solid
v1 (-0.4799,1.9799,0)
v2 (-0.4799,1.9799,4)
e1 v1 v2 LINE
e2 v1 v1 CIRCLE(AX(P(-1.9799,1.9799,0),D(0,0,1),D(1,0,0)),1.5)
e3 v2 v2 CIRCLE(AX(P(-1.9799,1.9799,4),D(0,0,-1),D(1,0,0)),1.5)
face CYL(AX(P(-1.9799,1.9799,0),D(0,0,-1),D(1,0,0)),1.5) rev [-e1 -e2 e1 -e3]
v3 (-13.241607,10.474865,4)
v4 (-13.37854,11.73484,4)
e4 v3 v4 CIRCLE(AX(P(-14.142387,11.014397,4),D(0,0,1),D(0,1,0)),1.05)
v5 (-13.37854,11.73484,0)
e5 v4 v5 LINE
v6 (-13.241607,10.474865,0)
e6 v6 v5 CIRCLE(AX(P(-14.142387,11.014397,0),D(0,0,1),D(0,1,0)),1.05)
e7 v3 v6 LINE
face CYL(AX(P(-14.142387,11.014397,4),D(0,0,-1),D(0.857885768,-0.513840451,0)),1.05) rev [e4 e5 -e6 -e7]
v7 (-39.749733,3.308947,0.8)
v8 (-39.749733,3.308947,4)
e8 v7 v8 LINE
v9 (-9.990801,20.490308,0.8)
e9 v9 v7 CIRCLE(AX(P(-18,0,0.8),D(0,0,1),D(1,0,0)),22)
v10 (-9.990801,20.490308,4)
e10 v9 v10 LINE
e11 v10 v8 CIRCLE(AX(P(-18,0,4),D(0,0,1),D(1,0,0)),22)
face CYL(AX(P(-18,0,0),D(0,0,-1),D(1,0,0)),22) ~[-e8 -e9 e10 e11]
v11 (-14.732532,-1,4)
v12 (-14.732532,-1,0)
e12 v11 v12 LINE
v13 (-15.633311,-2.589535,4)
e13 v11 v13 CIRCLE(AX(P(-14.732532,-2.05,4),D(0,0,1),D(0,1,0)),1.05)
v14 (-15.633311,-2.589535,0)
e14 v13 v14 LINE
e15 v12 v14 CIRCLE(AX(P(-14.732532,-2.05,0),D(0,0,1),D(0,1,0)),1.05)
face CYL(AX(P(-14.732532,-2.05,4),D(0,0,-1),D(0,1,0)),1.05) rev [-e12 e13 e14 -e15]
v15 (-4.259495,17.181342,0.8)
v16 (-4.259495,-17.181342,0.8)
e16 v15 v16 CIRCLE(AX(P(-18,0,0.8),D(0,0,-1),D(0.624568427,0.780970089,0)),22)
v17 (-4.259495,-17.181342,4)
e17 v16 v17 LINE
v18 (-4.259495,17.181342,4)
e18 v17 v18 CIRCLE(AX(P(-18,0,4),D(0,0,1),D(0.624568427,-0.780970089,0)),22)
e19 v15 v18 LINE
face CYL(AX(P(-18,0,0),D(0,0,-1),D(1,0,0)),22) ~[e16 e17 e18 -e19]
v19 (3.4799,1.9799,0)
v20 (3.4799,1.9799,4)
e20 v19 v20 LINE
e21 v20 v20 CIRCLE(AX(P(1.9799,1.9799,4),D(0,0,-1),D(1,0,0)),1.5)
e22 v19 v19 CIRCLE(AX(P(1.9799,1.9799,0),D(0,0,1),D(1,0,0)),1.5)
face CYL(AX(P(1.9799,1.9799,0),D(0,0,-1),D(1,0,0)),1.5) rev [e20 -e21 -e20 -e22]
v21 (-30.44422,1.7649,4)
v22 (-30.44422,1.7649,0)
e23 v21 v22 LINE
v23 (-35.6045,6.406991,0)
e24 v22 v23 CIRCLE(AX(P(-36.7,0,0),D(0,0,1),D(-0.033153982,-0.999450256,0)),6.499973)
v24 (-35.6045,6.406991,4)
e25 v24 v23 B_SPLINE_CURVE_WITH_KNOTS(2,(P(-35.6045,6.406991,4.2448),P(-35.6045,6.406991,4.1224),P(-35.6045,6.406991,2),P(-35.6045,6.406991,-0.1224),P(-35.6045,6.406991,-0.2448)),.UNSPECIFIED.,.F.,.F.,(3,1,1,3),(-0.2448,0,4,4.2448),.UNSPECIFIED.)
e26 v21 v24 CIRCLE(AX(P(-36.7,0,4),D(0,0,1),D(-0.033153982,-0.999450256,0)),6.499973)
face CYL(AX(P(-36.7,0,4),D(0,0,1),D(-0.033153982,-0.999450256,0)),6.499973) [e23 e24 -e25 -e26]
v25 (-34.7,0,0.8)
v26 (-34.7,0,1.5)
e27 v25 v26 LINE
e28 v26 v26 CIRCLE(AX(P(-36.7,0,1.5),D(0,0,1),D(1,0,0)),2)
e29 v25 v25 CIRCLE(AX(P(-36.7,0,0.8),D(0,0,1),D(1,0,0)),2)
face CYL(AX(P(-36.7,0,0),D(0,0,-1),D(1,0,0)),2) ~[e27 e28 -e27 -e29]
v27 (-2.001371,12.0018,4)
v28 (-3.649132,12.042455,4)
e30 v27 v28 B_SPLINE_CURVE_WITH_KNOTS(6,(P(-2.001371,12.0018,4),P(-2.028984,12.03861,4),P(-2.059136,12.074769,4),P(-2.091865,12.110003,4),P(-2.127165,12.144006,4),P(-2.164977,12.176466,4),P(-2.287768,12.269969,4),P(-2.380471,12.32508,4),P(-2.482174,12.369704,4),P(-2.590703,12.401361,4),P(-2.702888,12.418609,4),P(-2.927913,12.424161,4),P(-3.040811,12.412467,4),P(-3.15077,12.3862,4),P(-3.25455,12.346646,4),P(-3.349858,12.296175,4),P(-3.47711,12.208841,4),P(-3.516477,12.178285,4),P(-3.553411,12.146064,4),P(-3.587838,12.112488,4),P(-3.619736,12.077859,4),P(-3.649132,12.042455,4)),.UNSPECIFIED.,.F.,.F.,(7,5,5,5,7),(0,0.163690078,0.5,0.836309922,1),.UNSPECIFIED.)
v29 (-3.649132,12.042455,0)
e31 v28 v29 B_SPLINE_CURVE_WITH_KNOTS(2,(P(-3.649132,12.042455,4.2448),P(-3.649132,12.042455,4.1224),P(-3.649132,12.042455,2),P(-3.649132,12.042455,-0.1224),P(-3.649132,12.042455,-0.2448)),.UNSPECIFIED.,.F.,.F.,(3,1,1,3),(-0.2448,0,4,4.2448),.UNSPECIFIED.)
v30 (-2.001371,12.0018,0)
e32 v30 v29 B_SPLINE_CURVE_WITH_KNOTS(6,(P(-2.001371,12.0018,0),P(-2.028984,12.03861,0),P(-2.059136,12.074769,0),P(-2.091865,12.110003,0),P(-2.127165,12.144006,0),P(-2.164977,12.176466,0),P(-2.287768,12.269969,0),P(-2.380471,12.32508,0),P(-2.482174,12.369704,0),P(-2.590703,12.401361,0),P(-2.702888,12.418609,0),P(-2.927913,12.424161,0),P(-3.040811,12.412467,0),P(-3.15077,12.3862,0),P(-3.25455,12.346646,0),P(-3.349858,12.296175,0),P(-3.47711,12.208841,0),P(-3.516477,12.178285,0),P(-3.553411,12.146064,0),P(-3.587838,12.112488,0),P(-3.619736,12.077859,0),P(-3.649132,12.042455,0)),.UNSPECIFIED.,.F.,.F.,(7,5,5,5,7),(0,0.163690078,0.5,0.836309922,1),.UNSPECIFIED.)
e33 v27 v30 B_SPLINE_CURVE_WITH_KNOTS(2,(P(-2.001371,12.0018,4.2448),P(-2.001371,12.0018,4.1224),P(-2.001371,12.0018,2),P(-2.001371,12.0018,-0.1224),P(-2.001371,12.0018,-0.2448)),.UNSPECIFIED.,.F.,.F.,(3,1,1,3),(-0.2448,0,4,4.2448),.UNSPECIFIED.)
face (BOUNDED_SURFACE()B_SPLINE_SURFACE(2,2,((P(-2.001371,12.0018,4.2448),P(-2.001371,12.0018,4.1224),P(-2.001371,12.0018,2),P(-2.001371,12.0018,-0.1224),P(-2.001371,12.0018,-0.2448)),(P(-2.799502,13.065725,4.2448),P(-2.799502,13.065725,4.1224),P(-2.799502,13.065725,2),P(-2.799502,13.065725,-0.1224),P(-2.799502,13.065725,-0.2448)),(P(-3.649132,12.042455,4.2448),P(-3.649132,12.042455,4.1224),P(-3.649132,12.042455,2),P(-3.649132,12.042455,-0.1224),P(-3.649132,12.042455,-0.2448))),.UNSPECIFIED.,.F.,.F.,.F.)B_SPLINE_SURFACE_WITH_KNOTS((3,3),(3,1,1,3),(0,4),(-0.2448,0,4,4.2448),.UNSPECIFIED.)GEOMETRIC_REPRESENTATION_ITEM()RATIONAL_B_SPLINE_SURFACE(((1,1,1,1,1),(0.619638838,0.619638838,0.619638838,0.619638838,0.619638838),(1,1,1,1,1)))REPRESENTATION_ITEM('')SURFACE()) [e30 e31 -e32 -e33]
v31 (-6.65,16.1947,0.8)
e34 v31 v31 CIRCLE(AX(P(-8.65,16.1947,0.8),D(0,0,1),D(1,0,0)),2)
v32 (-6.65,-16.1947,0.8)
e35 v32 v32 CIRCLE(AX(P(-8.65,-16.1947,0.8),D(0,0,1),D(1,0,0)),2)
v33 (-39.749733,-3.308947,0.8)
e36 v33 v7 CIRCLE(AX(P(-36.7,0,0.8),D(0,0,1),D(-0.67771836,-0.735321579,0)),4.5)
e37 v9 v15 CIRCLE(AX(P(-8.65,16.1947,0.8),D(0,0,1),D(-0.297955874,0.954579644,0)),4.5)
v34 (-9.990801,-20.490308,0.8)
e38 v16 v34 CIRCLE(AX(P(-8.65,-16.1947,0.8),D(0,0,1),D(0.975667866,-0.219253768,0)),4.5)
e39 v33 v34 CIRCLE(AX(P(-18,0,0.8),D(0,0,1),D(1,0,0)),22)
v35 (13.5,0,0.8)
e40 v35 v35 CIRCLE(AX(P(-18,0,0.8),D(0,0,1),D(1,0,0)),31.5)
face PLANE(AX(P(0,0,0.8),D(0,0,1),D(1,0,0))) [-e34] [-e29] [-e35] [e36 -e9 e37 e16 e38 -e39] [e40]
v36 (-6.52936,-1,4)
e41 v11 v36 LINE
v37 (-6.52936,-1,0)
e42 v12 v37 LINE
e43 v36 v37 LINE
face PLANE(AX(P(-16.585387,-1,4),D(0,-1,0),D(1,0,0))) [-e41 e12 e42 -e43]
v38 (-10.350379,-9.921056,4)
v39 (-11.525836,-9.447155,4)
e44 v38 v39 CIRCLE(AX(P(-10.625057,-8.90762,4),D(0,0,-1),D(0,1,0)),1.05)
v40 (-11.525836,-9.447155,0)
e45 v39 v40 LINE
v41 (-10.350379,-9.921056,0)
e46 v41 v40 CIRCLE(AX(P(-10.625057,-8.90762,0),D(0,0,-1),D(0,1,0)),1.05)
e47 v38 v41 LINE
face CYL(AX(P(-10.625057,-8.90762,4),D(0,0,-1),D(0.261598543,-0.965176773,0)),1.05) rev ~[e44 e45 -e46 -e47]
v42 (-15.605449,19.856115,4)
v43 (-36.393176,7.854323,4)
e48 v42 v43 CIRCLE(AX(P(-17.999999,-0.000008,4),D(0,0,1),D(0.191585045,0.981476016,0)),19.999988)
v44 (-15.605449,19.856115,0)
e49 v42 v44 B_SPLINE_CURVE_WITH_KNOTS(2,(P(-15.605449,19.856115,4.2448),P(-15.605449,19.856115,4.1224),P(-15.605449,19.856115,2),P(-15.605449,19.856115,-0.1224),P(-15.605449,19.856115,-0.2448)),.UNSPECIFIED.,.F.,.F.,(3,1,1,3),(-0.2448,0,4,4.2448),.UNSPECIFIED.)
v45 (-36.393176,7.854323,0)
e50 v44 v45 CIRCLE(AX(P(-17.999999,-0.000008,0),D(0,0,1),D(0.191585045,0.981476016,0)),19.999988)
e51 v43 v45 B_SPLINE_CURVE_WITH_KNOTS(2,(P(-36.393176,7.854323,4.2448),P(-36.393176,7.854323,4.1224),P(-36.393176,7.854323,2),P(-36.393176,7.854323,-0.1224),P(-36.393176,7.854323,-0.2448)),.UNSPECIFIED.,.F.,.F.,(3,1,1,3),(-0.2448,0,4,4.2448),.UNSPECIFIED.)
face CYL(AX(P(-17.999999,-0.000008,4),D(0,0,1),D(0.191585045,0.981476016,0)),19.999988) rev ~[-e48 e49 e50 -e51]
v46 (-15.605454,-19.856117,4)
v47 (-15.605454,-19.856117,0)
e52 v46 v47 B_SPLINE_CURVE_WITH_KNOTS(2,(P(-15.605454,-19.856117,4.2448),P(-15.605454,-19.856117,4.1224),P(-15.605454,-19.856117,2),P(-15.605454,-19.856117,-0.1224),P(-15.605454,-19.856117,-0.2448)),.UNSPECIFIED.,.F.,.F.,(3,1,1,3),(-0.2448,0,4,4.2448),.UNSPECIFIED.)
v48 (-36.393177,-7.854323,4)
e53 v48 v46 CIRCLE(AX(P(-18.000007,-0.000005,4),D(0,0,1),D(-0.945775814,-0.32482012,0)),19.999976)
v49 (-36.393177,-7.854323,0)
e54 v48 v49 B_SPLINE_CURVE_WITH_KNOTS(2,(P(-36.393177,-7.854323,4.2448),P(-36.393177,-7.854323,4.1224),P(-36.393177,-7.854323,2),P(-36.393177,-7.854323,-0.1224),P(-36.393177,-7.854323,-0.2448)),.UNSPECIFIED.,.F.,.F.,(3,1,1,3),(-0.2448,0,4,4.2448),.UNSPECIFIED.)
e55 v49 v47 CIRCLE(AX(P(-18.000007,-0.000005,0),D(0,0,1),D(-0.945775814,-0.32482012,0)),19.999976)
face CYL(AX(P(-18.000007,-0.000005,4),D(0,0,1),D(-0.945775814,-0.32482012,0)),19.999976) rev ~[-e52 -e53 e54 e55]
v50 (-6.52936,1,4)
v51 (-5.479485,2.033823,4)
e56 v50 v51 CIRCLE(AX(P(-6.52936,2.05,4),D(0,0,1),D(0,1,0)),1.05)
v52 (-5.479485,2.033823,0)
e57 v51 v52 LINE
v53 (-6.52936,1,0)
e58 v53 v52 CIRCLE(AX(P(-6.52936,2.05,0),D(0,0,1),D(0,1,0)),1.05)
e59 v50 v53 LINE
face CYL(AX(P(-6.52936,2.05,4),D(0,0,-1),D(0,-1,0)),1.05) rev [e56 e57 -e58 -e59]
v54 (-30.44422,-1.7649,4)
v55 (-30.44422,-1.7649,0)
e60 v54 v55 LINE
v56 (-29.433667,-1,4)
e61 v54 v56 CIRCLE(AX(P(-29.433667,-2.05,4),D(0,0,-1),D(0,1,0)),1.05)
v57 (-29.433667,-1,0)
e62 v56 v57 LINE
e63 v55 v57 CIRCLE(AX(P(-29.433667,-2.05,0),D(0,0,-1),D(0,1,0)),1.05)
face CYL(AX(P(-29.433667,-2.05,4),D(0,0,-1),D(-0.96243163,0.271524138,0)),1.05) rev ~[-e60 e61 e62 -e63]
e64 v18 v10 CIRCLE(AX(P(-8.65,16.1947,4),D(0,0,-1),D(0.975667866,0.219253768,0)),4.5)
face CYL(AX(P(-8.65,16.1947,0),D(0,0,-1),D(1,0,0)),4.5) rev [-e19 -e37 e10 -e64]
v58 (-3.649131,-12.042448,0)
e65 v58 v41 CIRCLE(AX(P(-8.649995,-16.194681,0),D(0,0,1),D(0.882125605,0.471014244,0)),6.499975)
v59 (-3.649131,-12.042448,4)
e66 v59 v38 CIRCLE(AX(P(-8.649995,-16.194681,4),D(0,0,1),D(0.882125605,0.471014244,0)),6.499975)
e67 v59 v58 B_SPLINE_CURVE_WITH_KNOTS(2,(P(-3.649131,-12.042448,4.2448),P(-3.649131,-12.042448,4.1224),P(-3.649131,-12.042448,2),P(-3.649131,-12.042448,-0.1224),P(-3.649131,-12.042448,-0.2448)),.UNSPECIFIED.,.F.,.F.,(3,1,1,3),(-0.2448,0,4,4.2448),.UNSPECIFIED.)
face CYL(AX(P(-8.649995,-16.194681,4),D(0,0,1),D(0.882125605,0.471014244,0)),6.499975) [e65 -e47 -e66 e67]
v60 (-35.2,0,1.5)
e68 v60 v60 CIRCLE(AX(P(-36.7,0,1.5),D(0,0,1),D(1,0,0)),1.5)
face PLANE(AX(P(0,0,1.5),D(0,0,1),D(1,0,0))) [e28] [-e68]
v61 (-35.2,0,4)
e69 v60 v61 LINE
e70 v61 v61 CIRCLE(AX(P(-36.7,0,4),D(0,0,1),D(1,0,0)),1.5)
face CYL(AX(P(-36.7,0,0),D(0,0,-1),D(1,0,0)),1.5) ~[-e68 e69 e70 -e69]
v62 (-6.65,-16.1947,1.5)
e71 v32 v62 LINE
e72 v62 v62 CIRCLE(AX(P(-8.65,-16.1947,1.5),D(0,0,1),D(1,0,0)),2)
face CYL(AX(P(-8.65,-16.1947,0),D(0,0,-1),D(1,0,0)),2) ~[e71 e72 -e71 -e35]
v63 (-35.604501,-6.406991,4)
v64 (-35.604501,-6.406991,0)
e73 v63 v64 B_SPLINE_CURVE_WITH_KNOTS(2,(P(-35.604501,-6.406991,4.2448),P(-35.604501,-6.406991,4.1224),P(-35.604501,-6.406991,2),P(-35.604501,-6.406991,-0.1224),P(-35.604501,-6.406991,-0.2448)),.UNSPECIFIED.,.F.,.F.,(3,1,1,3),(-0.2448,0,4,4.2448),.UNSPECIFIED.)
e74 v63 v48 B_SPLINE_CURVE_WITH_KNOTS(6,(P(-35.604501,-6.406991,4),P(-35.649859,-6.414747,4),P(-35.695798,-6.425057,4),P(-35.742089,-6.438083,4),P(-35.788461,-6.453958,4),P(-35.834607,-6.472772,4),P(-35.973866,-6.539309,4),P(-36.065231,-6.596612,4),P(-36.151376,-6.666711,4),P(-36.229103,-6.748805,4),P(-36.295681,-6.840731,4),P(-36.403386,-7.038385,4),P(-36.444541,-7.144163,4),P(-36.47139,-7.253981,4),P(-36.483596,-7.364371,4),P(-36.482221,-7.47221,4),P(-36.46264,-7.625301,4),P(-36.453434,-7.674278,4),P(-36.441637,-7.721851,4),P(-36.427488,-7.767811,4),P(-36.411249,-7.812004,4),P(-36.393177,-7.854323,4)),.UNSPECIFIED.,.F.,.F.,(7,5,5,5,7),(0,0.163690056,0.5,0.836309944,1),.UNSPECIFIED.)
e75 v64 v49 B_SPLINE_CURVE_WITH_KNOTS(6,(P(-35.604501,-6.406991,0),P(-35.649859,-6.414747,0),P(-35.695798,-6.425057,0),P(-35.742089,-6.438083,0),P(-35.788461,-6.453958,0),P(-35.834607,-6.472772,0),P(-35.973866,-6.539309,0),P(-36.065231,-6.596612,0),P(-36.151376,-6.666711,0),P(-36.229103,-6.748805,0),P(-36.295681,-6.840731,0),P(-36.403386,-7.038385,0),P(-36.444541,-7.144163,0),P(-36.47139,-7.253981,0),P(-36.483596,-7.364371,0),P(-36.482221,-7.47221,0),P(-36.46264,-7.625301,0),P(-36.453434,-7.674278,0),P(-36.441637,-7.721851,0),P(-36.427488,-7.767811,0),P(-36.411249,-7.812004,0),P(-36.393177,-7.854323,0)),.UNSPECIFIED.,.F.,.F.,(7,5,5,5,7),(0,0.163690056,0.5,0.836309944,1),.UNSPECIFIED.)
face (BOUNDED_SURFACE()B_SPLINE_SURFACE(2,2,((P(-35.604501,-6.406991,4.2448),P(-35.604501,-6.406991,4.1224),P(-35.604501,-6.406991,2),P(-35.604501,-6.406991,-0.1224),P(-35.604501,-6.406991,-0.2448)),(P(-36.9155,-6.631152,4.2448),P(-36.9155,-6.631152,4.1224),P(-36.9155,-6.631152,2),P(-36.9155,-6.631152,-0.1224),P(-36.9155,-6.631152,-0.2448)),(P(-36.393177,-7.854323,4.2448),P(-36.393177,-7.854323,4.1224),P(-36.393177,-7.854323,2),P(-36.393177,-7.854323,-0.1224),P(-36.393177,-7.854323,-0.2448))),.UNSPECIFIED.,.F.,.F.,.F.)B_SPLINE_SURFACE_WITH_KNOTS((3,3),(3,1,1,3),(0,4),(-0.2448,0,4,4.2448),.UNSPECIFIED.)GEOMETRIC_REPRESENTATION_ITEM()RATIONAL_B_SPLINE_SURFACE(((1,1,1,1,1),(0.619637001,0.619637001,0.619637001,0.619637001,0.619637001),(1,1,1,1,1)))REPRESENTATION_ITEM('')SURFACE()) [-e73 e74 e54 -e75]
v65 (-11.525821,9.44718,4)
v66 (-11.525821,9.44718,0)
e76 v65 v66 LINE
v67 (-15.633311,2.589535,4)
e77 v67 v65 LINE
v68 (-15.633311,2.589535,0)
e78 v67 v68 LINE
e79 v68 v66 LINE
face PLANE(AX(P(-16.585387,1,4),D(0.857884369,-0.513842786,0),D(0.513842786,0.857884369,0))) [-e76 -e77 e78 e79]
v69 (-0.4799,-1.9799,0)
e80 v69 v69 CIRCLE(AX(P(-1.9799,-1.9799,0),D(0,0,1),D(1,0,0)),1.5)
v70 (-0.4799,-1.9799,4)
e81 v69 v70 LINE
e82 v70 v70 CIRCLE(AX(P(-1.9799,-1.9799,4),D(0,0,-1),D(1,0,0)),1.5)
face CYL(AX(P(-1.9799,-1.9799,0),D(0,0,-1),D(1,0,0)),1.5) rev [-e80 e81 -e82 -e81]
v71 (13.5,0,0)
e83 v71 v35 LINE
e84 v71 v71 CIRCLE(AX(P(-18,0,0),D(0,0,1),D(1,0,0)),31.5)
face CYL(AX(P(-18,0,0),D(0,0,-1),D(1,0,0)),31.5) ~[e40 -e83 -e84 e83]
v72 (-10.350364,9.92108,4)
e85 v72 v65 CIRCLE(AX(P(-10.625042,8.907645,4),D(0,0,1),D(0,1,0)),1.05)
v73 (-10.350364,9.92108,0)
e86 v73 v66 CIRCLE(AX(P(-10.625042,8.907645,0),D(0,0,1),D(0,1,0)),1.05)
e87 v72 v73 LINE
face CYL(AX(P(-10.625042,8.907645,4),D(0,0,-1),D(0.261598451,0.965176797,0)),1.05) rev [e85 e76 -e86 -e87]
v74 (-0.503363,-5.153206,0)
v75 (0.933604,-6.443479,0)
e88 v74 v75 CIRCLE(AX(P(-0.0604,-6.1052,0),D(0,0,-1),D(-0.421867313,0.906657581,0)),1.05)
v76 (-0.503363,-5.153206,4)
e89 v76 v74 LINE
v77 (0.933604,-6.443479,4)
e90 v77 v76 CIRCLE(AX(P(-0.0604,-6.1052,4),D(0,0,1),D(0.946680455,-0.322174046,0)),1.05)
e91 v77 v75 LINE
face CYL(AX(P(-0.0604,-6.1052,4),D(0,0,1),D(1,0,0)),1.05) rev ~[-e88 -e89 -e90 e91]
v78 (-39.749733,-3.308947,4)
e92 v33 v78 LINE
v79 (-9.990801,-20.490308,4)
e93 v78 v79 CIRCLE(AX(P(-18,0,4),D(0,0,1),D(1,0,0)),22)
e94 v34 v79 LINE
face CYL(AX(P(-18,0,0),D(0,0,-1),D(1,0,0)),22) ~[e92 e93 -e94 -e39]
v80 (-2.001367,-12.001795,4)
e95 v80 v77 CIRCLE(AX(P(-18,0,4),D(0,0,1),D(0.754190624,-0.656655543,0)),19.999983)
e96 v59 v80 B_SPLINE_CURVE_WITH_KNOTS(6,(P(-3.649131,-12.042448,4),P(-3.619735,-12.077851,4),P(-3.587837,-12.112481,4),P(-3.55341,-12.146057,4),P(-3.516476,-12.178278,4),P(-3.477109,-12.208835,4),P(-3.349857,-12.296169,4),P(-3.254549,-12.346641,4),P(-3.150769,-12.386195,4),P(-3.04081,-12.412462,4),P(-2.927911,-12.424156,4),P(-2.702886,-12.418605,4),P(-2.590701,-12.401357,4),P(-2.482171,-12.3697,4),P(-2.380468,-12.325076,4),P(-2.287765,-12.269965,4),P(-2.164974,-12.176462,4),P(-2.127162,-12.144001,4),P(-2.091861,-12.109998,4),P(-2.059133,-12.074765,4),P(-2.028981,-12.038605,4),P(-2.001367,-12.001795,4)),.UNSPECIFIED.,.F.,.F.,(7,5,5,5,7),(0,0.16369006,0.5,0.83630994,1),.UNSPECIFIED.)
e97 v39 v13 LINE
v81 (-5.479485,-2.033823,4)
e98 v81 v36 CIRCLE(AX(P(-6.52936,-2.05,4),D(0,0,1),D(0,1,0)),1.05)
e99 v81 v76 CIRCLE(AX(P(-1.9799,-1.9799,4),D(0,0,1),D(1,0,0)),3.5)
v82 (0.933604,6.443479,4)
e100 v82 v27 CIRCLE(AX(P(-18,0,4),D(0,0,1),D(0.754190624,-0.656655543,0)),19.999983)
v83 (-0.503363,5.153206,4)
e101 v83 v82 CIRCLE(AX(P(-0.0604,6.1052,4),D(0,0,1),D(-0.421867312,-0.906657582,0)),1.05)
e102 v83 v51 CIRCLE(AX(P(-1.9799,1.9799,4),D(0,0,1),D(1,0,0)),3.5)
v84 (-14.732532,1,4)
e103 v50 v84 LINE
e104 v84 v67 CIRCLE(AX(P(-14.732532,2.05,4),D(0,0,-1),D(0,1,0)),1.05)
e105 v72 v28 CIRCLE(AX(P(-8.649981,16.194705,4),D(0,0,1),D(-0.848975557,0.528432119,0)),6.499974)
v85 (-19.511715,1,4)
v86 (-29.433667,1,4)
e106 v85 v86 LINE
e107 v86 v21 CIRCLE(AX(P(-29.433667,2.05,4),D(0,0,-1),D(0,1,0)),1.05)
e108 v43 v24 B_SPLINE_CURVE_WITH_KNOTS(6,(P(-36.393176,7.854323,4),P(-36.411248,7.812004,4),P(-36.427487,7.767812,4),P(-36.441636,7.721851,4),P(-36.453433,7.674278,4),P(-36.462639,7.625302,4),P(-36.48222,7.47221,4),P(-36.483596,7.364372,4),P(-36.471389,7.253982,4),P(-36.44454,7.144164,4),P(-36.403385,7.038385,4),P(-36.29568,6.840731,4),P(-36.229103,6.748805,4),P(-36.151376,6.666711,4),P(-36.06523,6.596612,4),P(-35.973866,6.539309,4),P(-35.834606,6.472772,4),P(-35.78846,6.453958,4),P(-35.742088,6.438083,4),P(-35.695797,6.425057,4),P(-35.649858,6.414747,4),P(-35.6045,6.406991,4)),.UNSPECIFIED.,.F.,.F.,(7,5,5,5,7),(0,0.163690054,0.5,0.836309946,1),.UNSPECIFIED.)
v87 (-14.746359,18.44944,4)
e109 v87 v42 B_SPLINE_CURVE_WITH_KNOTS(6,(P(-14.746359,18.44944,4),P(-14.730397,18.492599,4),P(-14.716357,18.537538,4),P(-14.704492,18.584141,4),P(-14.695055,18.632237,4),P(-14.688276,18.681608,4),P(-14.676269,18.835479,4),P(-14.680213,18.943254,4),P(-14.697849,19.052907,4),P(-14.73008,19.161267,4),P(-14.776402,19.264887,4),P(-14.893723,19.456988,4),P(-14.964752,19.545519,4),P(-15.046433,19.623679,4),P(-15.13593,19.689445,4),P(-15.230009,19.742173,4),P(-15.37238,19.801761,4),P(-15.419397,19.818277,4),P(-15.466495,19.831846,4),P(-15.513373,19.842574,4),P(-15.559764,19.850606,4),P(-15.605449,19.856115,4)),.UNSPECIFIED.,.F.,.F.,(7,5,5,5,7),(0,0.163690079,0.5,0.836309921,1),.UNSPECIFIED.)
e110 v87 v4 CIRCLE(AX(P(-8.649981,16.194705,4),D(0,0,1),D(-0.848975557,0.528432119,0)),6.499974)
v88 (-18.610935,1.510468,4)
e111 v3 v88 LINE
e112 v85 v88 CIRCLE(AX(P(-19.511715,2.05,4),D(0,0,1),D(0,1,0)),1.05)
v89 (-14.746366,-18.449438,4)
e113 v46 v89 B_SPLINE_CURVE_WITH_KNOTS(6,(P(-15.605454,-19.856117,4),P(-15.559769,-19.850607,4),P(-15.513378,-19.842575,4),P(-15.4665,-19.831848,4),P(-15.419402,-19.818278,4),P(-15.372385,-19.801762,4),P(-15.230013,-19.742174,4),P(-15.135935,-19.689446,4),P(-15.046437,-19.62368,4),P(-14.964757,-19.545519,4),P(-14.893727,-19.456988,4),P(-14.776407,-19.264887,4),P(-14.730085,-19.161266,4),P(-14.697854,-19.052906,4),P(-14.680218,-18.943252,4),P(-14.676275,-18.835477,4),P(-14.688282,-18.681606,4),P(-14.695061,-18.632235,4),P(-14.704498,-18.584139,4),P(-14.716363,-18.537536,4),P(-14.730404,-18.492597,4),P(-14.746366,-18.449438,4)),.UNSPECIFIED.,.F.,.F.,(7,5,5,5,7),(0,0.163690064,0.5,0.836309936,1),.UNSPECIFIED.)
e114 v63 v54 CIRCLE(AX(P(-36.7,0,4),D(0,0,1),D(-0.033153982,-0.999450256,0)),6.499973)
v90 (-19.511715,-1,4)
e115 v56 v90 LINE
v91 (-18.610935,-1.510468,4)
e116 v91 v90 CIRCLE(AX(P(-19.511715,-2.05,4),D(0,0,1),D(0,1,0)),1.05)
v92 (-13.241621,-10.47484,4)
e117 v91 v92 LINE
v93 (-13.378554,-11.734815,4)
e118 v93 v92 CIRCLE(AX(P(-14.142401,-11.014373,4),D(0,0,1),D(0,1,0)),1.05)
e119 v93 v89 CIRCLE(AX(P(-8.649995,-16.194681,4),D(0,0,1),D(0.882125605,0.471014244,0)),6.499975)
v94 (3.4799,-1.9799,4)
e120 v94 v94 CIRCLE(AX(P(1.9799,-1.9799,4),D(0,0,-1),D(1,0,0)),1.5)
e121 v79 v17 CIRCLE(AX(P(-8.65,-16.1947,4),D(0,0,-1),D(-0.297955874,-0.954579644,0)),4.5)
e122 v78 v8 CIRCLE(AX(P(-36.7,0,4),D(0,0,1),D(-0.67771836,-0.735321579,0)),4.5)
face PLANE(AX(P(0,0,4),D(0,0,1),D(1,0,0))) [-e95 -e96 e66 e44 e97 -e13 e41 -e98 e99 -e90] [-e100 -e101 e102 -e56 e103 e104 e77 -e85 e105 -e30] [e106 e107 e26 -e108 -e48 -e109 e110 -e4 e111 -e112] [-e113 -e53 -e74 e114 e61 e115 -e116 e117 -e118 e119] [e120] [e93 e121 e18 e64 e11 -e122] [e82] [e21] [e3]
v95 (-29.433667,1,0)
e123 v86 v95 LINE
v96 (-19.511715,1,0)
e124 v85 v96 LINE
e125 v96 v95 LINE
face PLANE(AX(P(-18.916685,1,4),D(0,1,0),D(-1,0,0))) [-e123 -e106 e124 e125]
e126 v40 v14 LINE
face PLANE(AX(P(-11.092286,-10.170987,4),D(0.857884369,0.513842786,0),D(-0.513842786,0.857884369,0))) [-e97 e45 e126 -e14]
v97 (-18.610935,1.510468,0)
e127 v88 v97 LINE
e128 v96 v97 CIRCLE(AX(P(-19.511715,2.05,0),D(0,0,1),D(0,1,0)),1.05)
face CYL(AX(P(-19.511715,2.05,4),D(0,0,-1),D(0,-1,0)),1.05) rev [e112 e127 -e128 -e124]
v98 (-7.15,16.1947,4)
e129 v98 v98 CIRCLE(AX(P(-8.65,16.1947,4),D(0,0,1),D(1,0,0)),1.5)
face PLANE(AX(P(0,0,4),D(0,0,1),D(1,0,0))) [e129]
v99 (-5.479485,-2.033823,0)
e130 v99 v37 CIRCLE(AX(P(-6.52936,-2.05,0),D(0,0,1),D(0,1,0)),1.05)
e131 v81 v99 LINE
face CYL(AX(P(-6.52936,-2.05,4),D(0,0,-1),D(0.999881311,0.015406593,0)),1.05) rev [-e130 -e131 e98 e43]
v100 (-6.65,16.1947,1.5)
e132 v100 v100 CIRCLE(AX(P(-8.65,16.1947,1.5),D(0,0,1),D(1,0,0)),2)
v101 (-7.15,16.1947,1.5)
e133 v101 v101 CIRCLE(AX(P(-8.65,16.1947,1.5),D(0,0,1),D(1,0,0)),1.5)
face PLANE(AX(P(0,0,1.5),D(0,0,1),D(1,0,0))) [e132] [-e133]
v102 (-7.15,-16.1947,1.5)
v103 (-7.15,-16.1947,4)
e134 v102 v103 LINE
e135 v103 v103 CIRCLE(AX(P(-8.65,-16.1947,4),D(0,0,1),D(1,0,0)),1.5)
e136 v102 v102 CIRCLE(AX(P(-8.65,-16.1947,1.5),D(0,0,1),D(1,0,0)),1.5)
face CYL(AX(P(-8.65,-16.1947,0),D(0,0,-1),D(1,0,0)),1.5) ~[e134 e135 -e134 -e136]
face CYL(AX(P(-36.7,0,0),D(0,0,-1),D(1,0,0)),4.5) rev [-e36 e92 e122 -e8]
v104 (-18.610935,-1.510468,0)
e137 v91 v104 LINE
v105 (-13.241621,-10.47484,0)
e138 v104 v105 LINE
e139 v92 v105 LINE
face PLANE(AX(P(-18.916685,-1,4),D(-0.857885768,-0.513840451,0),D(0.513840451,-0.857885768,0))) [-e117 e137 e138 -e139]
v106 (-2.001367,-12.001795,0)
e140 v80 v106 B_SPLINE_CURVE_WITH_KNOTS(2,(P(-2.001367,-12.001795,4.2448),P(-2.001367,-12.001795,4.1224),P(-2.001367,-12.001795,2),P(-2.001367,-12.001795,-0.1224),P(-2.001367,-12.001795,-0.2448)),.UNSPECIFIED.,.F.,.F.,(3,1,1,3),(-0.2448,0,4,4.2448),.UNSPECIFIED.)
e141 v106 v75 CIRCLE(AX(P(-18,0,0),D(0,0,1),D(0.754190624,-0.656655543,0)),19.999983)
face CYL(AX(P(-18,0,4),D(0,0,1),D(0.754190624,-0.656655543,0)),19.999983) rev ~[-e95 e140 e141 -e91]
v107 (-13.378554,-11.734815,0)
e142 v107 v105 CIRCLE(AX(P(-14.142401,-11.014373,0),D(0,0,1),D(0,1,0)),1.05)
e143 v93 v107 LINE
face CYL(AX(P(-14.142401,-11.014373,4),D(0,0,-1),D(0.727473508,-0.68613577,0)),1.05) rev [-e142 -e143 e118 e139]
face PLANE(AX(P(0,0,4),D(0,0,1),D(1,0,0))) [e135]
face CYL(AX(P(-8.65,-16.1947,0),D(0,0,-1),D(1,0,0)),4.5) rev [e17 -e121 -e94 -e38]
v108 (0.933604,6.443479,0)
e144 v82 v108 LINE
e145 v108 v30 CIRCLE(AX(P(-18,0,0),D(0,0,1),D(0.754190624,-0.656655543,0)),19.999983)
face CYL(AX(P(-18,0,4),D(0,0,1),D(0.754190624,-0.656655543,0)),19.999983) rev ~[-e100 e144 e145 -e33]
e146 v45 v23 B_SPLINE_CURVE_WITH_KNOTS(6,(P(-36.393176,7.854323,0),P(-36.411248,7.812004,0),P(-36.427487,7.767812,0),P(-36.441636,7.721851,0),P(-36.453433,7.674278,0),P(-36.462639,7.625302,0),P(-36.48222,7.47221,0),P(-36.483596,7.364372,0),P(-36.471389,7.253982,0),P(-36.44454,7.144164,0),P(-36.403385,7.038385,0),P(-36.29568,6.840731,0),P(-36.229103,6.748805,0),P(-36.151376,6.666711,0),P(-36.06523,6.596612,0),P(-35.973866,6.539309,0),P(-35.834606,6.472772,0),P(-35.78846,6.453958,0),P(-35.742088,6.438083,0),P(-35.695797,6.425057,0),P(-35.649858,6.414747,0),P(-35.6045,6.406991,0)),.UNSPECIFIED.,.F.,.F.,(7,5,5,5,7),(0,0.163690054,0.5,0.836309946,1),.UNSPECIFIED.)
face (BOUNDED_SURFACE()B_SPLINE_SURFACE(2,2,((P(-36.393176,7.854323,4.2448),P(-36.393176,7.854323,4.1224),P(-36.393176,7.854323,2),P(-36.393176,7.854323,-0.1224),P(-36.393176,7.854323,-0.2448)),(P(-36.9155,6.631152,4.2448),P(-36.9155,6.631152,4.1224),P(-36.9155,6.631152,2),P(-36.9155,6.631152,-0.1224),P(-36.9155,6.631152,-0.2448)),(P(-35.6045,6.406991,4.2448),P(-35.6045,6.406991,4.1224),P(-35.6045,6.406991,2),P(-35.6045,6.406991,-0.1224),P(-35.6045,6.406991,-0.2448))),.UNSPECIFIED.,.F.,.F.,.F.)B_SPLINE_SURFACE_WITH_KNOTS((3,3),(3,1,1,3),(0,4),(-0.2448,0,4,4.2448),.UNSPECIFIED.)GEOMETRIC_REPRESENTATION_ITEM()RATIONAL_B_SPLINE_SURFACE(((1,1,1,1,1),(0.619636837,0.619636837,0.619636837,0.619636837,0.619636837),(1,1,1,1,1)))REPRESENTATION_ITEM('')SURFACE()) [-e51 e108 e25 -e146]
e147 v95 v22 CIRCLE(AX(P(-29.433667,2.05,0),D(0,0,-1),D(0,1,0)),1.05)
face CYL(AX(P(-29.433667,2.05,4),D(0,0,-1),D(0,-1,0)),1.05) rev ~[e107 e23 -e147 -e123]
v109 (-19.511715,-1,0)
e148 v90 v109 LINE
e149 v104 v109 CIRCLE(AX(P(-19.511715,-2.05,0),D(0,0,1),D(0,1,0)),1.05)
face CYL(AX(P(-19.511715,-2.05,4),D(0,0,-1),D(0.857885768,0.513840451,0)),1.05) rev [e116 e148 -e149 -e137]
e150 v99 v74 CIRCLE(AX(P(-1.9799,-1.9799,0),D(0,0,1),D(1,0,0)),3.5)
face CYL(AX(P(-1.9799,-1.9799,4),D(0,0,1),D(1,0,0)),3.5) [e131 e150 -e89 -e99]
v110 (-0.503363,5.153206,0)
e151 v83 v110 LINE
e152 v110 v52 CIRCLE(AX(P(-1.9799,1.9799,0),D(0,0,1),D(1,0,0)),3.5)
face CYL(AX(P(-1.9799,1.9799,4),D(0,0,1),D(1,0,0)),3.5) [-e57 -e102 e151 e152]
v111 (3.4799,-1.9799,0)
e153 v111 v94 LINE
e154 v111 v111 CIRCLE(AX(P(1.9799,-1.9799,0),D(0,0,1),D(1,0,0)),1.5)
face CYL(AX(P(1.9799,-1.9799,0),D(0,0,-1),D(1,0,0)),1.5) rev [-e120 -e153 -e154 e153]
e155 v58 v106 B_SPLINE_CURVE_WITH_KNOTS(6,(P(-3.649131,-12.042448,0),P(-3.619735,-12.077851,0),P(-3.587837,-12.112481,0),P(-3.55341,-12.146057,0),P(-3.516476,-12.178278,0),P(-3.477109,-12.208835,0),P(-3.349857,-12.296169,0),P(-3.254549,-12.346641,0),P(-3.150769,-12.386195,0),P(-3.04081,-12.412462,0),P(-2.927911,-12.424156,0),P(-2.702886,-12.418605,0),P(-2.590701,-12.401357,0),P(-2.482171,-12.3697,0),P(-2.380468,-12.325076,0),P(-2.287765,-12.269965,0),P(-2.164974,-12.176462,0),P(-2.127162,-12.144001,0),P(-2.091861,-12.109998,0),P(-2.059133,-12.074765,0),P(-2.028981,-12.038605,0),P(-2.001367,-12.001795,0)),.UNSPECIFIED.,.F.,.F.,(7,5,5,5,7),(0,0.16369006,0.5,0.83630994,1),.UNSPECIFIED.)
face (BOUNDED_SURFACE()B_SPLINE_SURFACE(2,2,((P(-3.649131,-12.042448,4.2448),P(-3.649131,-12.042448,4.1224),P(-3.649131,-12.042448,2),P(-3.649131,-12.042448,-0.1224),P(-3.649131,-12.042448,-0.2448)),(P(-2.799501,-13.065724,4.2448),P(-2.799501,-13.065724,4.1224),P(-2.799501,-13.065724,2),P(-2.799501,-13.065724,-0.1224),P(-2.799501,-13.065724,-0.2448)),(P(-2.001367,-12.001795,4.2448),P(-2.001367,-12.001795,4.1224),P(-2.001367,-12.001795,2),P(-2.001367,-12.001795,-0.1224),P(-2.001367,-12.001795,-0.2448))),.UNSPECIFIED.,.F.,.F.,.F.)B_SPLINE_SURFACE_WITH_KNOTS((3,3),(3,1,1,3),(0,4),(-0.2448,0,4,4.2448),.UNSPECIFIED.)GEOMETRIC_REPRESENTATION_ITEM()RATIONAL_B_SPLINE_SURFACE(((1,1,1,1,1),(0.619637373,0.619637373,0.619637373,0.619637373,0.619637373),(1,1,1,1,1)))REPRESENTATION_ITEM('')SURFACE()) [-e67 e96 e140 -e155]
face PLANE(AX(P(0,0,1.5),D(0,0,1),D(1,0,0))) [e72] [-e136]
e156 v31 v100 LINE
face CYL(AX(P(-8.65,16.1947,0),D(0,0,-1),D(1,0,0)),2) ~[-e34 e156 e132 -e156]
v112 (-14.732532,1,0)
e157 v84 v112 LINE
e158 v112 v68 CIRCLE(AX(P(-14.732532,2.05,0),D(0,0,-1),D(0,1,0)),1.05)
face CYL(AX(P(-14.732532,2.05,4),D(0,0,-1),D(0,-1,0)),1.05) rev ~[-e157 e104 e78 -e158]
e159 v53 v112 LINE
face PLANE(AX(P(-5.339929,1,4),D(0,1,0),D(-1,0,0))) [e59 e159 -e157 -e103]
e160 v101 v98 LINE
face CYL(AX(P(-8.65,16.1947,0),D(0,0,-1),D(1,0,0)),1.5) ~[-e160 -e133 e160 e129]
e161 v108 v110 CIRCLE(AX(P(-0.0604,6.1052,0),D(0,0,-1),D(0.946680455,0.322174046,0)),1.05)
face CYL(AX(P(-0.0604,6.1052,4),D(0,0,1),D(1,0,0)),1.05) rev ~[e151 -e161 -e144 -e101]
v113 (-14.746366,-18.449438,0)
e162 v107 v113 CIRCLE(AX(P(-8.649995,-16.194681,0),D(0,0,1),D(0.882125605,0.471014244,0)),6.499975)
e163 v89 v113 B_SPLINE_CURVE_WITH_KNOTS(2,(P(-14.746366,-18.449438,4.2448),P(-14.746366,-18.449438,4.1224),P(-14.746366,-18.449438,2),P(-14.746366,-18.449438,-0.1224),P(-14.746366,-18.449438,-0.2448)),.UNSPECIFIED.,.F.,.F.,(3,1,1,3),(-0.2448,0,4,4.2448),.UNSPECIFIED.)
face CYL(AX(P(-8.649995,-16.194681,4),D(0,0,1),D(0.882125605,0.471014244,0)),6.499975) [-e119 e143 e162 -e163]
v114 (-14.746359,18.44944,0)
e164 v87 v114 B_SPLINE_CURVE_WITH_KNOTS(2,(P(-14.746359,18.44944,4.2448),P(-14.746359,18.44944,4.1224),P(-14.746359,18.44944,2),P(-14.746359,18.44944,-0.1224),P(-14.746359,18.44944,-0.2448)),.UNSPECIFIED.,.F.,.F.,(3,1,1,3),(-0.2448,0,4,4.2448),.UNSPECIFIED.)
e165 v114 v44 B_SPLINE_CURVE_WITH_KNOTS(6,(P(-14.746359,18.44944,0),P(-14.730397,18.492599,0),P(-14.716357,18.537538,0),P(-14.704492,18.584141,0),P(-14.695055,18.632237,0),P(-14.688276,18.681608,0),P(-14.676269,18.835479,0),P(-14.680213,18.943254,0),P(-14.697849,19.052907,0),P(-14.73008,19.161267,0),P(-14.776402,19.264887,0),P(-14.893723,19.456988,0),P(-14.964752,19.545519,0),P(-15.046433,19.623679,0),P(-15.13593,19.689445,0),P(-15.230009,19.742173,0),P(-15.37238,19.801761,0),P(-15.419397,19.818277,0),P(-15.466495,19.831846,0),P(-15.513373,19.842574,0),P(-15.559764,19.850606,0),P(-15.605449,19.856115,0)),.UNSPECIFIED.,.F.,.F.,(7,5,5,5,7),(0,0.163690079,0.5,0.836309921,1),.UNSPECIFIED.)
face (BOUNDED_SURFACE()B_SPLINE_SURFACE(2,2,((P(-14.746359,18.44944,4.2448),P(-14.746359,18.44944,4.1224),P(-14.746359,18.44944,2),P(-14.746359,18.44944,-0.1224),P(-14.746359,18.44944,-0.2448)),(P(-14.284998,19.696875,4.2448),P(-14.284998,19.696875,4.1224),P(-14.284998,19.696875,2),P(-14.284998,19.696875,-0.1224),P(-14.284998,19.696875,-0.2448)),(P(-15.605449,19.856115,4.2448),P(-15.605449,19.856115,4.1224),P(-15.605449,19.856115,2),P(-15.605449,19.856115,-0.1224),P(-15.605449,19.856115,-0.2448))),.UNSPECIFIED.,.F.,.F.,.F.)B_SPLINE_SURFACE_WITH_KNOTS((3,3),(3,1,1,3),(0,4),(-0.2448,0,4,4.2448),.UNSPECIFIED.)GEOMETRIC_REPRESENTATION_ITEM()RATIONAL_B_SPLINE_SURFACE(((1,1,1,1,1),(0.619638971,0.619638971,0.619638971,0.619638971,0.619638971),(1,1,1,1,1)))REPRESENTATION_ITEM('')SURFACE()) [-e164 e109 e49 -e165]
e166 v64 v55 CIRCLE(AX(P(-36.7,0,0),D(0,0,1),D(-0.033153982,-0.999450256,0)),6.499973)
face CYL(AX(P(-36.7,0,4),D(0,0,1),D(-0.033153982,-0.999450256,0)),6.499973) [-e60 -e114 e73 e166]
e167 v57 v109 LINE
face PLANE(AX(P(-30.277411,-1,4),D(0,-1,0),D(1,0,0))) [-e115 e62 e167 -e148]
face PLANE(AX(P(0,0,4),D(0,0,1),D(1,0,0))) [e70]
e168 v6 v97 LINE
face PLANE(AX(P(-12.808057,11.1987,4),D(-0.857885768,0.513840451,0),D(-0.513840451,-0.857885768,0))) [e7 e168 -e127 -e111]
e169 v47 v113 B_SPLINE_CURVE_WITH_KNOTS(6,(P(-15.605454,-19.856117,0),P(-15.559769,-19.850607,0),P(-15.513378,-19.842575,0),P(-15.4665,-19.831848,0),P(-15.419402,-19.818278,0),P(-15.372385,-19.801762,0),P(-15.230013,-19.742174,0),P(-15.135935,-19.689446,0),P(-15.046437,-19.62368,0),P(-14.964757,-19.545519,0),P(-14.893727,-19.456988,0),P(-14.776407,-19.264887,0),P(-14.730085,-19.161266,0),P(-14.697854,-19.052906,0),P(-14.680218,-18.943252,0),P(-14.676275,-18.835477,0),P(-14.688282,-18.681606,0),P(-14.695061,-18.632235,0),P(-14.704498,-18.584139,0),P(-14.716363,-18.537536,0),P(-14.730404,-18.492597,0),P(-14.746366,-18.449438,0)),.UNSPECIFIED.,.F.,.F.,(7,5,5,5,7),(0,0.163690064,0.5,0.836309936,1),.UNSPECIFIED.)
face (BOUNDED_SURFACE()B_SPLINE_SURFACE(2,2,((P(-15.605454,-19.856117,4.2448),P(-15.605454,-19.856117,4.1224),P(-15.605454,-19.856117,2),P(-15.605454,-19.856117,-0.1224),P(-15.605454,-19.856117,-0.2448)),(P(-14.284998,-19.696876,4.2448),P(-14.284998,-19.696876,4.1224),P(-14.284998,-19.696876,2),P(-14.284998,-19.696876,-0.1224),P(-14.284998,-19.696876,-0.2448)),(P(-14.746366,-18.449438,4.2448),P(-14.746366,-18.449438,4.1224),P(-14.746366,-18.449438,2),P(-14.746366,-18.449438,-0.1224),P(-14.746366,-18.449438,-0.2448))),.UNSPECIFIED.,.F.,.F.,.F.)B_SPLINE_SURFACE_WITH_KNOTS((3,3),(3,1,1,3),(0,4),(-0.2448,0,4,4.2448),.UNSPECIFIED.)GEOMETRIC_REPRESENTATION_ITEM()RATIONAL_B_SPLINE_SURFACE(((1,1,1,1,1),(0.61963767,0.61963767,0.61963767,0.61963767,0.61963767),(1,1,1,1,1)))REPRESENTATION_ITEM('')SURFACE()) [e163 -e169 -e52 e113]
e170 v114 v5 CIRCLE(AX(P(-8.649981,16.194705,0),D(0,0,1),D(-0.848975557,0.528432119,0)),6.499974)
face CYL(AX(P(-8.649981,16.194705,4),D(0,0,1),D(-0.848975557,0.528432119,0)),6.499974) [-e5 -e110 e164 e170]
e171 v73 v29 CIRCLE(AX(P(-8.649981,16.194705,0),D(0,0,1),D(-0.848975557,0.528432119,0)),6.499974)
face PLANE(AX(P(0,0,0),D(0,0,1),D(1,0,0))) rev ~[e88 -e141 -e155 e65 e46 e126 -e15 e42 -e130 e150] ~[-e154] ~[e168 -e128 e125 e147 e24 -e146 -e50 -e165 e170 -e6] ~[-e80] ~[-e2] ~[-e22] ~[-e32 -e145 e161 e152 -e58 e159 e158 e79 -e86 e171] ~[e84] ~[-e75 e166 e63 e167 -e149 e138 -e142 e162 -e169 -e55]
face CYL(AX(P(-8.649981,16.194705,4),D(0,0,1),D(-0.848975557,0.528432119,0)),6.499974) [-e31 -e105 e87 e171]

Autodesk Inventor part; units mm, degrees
ref_plane "YZ Plane" through (0, 0, 0) normal (1, 0, 0) x (0, 1, 0)
ref_plane "XZ Plane" through (0, 0, 0) normal (0, 1, 0) x (-1, 0, 0)
ref_plane "XY Plane" through (0, 0, 0) normal (0, 0, 1) x (1, 0, 0)
sketch "スケッチ1" plane through (0, 0, 0) normal (0, 0, 1) x (1, 0, 0)
  circle A0 centre (-18, 0) radius 31.5
  line L0 (0, 0) -> (-18, 0) construction
  circle A1 centre (-36.7, 0) radius 1.5
  circle A2 centre (-36.7, 0) radius 4 construction
  circle A3 centre (-36.7, 0) radius 4.5
  circle A4 centre (-8.65, -16.1947) radius 4.5
  circle A5 centre (-8.65, -16.1947) radius 4 construction
  circle A6 centre (-8.65, -16.1947) radius 1.5
  circle A7 centre (-8.65, 16.1947) radius 4.5
  circle A8 centre (-8.65, 16.1947) radius 4 construction
  circle A9 centre (-8.65, 16.1947) radius 1.5
  circle A10 centre (-18, 0) radius 22
  line L1 (-36.7, 0) -> (-18, 0) construction
  circle A11 centre (-18, 0) radius 22.7 construction
  circle A12 centre (-36.7, 0) radius 2
  circle A13 centre (-8.65, -16.1947) radius 2
  circle A14 centre (-8.65, 16.1947) radius 2
  circle A15 centre (-1.9799, 1.9799) radius 2.8
  circle A16 centre (-1.9799, 1.9799) radius 1.5
  circle A17 centre (-1.9799, -1.9799) radius 1.5
  circle A18 centre (-1.9799, -1.9799) radius 2.8
  circle A19 centre (1.9799, -1.9799) radius 1.5
  circle A20 centre (1.9799, -1.9799) radius 2.8
  circle A21 centre (1.9799, 1.9799) radius 1.5
  circle A22 centre (1.9799, 1.9799) radius 2.8
  line L2 (0, 0) -> (-1.9799, 1.9799)
  point P0 (-1.5877, 1.6905)
  point P1 (-5.0591, 12.5113)
  point P2 (1.2886, 2.8639)
  point P3 (1.2886, -2.8639)
  point P4 (-5.0591, -12.5113)
  point P5 (-13.6354, -17.4628)
  point P6 (-35.3056, -4.9515)
  point P7 (-35.3056, 4.9515)
  point P8 (-13.6354, 17.4628)
  point P9 (0.5827, -2.75)
  point P10 (-4.16, 16.8432)
  point P11 (-4.16, -16.8432)
  point P12 (-10.3333, -20.4074)
  point P13 (-39.5067, -3.5642)
  point P14 (-39.5067, 3.5642)
  point P15 (-10.3333, 20.4074)
  point P16 (-0.2113, 2.75)
  point P17 (-35.9375, 1.4987)
  point P18 (-35.9375, -1.4987)
  point P19 (-7.7333, -14.785)
  point P20 (-10.3292, -16.2837)
  point P21 (-10.3292, 16.2837)
  point P22 (-7.7333, 14.785)
  point P23 (4, 0.041)
  point P24 (4, -0.041)
  point P25 (3.5801, -4.2776)
  point P26 (-4.2595, -17.1813)
  point P27 (-9.9908, -20.4903)
  point P28 (-39.7497, -3.3089)
  point P29 (-39.7497, 3.3089)
  point P30 (-9.9908, 20.4903)
  point P31 (-4.2595, 17.1813)
  point P32 (3.5801, 4.2776)
  dimension "d10" = 63
  dimension "d13" = 3
  dimension "d14" = 8
  dimension "d15" = 9
  dimension "d16" = 360
  dimension "d19" = 9.5
  dimension "d23" = 4
  dimension "d24" = 360
  dimension "d25" = 5.6
  dimension "d26" = 3
  dimension "d30" = 360
  dimension "d46" = 45
  dimension "d47" = 18
  dimension "d49" = 44
  dimension "d50" = 18.7
  dimension "d53" = 0.7
  dimension "d69" = 45.4
extrude "押し出し1" add sketch "スケッチ1" along normal blind 0.8 contours A0 | A3 A10 | A10 A3 | A10 A7 | A7 A10 | A10 A4 | A4 A10 | A22 A10 | A10 A20
extrude "押し出し2" add sketch "スケッチ1" along normal blind 1.5 contours A12 | A13 | A14
extrude "押し出し3" add sketch "スケッチ1" along normal blind 4 contours A1 | A3 A10 A7 A22 A15 A18 A20 A4 | A10 A22 A20 A21 A15 | A20 A18 A19 A22 A10 | A10 A20 A22 | A22 A16 A18 A15 | A15 A21 A22 A16 | A20 A17 A18 A19 | A18 A15 A17 A20 | A22 A19 A20 A21 | A18 A16 A15 A17 | A21 A20 A15 | A22 L2 A16 | A18 A22 A19 | A17 A15 A20 | A18 A16 L2 | A6 | A9 picked at (0.5491, 0.5309) picked at (0.5491, -0.5309) picked at (-0.5491, -0.5309)
sketch "スケッチ2" plane through (0, 0, 4) normal (0, 0, 1) x (1, 0, 0)
  arc A0 (-39.7497, -3.3089) -> (-39.7497, 3.3089) centre (-36.7, 0) ccw projected
  arc A1 (-39.7497, -3.3089) -> (-9.9908, -20.4903) centre (-18, 0) ccw projected
  arc A2 (-4.2595, -17.1813) -> (-9.9908, -20.4903) centre (-8.65, -16.1947) ccw projected
  arc A3 (-4.2595, -17.1813) -> (-4.2595, 17.1813) centre (-18, 0) ccw projected
  arc A4 (-9.9908, 20.4903) -> (-4.2595, 17.1813) centre (-8.65, 16.1947) ccw projected
  arc A5 (-9.9908, 20.4903) -> (-39.7497, 3.3089) centre (-18, 0) ccw projected
  circle A6 centre (1.9799, 1.9799) radius 1.5 projected
  circle A7 centre (-1.9799, -1.9799) radius 1.5 projected
  circle A8 centre (-1.9799, 1.9799) radius 1.5 projected
  circle A9 centre (1.9799, -1.9799) radius 1.5 projected
  arc A10 (-36.9155, -6.4964) -> (-36.9155, 6.4964) centre (-36.7, 0) ccw
  arc A11 (-36.9155, -6.4964) -> (-14.1683, -19.6295) centre (-18, 0) ccw
  arc A12 (-2.9162, -13.1331) -> (-14.1683, -19.6295) centre (-8.65, -16.1947) ccw
  arc A13 (-2.9162, -13.1331) -> (-2.9162, 13.1331) centre (-18, 0) ccw
  arc A14 (-14.1683, 19.6295) -> (-2.9162, 13.1331) centre (-8.65, 16.1947) ccw
  arc A15 (-14.1683, 19.6295) -> (-36.9155, 6.4964) centre (-18, 0) ccw
  circle A16 centre (-1.9799, 1.9799) radius 3.5
  circle A17 centre (-1.9799, -1.9799) radius 3.5
  line L0 (-36.7, 0) -> (0, 0) construction
  line L1 (-36.7, -1) -> (0, -1)
  line L2 (0, 1) -> (-36.7, 1)
  arc A18 (-36.7, 1) -> (-36.7, -1) centre (-36.7, 0) ccw
  arc A19 (0, -1) -> (0, 1) centre (0, 0) ccw
  line L3 (-8.65, 16.1947) -> (-18.35, 0) construction
  line L4 (-9.5079, 16.7085) -> (-19.2079, 0.5138)
  line L5 (-17.4921, -0.5138) -> (-7.7921, 15.6808)
  arc A20 (-7.7921, 15.6808) -> (-9.5079, 16.7085) centre (-8.65, 16.1947) ccw
  arc A21 (-19.2079, 0.5138) -> (-17.4921, -0.5138) centre (-18.35, 0) ccw
  line L6 (-18.35, 0) -> (-8.65, -16.1947) construction
  line L7 (-19.2079, -0.5138) -> (-9.5079, -16.7085)
  line L8 (-7.7921, -15.6808) -> (-17.4921, 0.5138)
  arc A22 (-17.4921, 0.5138) -> (-19.2079, -0.5138) centre (-18.35, 0) ccw
  arc A23 (-9.5079, -16.7085) -> (-7.7921, -15.6808) centre (-8.65, -16.1947) ccw
  circle A24 centre (-0.0604, 6.1052) radius 1.05
  circle A25 centre (-0.0604, -6.1052) radius 1.05
  point P0 (-13.5, 8.0973)
  point P1 (-13.5, -8.0973)
  point P2 (0.9336, -6.4435)
  point P3 (-0.5034, -5.1532)
  point P4 (-5.3399, -1)
  point P5 (-16.5854, -1)
  point P6 (-11.0923, -10.171)
  point P7 (-0.5034, 5.1532)
  point P8 (0.9336, 6.4435)
  point P9 (-11.0923, 10.171)
  point P10 (-16.5854, 1)
  point P11 (-5.3399, 1)
  point P12 (-12.8081, -11.1986)
  point P13 (-18.9167, -1)
  point P14 (-30.2774, -1)
  point P15 (-30.2774, 1)
  point P16 (-18.9167, 1)
  point P17 (-12.8081, 11.1986)
  dimension "d58" = 2
  dimension "d59" = 2
  dimension "d60" = 2
  dimension "d61" = 2
  dimension "d62" = 2
  dimension "d63" = 2
  dimension "d64" = 2.1
  dimension "d65" = 2.1
extrude "押し出し4" cut sketch "スケッチ2" against normal blind 4 contours L1 L7 A12 A11 A10 | A10 A15 A14 L4 L2 | L8 L1 A17 A25 A13 A12 | L5 A14 A13 A24 A16 L2 | A25 | A24
fillet "フィレット1" radius 1.05 18 edges at (-30.2774, 1, 2) (-36.9155, 6.4964, 2) (-14.1683, 19.6295, 2) (-12.8081, 11.1986, 2) (-18.9167, 1, 2) (-18.9167, -1, 2) (-30.2774, -1, 2) (-36.9155, -6.4964, 2) (-14.1683, -19.6295, 2) (-12.8081, -11.1986, 2) (-2.9162, -13.1331, 2) (-11.0923, -10.171, 2) (-16.5854, -1, 2) (-5.3399, 1, 2) (-5.3399, -1, 2) (-11.0923, 10.171, 2) (-2.9162, 13.1331, 2) (-16.5854, 1, 2)
properties part number "クランク4t" material "アルミニウム 7075"
